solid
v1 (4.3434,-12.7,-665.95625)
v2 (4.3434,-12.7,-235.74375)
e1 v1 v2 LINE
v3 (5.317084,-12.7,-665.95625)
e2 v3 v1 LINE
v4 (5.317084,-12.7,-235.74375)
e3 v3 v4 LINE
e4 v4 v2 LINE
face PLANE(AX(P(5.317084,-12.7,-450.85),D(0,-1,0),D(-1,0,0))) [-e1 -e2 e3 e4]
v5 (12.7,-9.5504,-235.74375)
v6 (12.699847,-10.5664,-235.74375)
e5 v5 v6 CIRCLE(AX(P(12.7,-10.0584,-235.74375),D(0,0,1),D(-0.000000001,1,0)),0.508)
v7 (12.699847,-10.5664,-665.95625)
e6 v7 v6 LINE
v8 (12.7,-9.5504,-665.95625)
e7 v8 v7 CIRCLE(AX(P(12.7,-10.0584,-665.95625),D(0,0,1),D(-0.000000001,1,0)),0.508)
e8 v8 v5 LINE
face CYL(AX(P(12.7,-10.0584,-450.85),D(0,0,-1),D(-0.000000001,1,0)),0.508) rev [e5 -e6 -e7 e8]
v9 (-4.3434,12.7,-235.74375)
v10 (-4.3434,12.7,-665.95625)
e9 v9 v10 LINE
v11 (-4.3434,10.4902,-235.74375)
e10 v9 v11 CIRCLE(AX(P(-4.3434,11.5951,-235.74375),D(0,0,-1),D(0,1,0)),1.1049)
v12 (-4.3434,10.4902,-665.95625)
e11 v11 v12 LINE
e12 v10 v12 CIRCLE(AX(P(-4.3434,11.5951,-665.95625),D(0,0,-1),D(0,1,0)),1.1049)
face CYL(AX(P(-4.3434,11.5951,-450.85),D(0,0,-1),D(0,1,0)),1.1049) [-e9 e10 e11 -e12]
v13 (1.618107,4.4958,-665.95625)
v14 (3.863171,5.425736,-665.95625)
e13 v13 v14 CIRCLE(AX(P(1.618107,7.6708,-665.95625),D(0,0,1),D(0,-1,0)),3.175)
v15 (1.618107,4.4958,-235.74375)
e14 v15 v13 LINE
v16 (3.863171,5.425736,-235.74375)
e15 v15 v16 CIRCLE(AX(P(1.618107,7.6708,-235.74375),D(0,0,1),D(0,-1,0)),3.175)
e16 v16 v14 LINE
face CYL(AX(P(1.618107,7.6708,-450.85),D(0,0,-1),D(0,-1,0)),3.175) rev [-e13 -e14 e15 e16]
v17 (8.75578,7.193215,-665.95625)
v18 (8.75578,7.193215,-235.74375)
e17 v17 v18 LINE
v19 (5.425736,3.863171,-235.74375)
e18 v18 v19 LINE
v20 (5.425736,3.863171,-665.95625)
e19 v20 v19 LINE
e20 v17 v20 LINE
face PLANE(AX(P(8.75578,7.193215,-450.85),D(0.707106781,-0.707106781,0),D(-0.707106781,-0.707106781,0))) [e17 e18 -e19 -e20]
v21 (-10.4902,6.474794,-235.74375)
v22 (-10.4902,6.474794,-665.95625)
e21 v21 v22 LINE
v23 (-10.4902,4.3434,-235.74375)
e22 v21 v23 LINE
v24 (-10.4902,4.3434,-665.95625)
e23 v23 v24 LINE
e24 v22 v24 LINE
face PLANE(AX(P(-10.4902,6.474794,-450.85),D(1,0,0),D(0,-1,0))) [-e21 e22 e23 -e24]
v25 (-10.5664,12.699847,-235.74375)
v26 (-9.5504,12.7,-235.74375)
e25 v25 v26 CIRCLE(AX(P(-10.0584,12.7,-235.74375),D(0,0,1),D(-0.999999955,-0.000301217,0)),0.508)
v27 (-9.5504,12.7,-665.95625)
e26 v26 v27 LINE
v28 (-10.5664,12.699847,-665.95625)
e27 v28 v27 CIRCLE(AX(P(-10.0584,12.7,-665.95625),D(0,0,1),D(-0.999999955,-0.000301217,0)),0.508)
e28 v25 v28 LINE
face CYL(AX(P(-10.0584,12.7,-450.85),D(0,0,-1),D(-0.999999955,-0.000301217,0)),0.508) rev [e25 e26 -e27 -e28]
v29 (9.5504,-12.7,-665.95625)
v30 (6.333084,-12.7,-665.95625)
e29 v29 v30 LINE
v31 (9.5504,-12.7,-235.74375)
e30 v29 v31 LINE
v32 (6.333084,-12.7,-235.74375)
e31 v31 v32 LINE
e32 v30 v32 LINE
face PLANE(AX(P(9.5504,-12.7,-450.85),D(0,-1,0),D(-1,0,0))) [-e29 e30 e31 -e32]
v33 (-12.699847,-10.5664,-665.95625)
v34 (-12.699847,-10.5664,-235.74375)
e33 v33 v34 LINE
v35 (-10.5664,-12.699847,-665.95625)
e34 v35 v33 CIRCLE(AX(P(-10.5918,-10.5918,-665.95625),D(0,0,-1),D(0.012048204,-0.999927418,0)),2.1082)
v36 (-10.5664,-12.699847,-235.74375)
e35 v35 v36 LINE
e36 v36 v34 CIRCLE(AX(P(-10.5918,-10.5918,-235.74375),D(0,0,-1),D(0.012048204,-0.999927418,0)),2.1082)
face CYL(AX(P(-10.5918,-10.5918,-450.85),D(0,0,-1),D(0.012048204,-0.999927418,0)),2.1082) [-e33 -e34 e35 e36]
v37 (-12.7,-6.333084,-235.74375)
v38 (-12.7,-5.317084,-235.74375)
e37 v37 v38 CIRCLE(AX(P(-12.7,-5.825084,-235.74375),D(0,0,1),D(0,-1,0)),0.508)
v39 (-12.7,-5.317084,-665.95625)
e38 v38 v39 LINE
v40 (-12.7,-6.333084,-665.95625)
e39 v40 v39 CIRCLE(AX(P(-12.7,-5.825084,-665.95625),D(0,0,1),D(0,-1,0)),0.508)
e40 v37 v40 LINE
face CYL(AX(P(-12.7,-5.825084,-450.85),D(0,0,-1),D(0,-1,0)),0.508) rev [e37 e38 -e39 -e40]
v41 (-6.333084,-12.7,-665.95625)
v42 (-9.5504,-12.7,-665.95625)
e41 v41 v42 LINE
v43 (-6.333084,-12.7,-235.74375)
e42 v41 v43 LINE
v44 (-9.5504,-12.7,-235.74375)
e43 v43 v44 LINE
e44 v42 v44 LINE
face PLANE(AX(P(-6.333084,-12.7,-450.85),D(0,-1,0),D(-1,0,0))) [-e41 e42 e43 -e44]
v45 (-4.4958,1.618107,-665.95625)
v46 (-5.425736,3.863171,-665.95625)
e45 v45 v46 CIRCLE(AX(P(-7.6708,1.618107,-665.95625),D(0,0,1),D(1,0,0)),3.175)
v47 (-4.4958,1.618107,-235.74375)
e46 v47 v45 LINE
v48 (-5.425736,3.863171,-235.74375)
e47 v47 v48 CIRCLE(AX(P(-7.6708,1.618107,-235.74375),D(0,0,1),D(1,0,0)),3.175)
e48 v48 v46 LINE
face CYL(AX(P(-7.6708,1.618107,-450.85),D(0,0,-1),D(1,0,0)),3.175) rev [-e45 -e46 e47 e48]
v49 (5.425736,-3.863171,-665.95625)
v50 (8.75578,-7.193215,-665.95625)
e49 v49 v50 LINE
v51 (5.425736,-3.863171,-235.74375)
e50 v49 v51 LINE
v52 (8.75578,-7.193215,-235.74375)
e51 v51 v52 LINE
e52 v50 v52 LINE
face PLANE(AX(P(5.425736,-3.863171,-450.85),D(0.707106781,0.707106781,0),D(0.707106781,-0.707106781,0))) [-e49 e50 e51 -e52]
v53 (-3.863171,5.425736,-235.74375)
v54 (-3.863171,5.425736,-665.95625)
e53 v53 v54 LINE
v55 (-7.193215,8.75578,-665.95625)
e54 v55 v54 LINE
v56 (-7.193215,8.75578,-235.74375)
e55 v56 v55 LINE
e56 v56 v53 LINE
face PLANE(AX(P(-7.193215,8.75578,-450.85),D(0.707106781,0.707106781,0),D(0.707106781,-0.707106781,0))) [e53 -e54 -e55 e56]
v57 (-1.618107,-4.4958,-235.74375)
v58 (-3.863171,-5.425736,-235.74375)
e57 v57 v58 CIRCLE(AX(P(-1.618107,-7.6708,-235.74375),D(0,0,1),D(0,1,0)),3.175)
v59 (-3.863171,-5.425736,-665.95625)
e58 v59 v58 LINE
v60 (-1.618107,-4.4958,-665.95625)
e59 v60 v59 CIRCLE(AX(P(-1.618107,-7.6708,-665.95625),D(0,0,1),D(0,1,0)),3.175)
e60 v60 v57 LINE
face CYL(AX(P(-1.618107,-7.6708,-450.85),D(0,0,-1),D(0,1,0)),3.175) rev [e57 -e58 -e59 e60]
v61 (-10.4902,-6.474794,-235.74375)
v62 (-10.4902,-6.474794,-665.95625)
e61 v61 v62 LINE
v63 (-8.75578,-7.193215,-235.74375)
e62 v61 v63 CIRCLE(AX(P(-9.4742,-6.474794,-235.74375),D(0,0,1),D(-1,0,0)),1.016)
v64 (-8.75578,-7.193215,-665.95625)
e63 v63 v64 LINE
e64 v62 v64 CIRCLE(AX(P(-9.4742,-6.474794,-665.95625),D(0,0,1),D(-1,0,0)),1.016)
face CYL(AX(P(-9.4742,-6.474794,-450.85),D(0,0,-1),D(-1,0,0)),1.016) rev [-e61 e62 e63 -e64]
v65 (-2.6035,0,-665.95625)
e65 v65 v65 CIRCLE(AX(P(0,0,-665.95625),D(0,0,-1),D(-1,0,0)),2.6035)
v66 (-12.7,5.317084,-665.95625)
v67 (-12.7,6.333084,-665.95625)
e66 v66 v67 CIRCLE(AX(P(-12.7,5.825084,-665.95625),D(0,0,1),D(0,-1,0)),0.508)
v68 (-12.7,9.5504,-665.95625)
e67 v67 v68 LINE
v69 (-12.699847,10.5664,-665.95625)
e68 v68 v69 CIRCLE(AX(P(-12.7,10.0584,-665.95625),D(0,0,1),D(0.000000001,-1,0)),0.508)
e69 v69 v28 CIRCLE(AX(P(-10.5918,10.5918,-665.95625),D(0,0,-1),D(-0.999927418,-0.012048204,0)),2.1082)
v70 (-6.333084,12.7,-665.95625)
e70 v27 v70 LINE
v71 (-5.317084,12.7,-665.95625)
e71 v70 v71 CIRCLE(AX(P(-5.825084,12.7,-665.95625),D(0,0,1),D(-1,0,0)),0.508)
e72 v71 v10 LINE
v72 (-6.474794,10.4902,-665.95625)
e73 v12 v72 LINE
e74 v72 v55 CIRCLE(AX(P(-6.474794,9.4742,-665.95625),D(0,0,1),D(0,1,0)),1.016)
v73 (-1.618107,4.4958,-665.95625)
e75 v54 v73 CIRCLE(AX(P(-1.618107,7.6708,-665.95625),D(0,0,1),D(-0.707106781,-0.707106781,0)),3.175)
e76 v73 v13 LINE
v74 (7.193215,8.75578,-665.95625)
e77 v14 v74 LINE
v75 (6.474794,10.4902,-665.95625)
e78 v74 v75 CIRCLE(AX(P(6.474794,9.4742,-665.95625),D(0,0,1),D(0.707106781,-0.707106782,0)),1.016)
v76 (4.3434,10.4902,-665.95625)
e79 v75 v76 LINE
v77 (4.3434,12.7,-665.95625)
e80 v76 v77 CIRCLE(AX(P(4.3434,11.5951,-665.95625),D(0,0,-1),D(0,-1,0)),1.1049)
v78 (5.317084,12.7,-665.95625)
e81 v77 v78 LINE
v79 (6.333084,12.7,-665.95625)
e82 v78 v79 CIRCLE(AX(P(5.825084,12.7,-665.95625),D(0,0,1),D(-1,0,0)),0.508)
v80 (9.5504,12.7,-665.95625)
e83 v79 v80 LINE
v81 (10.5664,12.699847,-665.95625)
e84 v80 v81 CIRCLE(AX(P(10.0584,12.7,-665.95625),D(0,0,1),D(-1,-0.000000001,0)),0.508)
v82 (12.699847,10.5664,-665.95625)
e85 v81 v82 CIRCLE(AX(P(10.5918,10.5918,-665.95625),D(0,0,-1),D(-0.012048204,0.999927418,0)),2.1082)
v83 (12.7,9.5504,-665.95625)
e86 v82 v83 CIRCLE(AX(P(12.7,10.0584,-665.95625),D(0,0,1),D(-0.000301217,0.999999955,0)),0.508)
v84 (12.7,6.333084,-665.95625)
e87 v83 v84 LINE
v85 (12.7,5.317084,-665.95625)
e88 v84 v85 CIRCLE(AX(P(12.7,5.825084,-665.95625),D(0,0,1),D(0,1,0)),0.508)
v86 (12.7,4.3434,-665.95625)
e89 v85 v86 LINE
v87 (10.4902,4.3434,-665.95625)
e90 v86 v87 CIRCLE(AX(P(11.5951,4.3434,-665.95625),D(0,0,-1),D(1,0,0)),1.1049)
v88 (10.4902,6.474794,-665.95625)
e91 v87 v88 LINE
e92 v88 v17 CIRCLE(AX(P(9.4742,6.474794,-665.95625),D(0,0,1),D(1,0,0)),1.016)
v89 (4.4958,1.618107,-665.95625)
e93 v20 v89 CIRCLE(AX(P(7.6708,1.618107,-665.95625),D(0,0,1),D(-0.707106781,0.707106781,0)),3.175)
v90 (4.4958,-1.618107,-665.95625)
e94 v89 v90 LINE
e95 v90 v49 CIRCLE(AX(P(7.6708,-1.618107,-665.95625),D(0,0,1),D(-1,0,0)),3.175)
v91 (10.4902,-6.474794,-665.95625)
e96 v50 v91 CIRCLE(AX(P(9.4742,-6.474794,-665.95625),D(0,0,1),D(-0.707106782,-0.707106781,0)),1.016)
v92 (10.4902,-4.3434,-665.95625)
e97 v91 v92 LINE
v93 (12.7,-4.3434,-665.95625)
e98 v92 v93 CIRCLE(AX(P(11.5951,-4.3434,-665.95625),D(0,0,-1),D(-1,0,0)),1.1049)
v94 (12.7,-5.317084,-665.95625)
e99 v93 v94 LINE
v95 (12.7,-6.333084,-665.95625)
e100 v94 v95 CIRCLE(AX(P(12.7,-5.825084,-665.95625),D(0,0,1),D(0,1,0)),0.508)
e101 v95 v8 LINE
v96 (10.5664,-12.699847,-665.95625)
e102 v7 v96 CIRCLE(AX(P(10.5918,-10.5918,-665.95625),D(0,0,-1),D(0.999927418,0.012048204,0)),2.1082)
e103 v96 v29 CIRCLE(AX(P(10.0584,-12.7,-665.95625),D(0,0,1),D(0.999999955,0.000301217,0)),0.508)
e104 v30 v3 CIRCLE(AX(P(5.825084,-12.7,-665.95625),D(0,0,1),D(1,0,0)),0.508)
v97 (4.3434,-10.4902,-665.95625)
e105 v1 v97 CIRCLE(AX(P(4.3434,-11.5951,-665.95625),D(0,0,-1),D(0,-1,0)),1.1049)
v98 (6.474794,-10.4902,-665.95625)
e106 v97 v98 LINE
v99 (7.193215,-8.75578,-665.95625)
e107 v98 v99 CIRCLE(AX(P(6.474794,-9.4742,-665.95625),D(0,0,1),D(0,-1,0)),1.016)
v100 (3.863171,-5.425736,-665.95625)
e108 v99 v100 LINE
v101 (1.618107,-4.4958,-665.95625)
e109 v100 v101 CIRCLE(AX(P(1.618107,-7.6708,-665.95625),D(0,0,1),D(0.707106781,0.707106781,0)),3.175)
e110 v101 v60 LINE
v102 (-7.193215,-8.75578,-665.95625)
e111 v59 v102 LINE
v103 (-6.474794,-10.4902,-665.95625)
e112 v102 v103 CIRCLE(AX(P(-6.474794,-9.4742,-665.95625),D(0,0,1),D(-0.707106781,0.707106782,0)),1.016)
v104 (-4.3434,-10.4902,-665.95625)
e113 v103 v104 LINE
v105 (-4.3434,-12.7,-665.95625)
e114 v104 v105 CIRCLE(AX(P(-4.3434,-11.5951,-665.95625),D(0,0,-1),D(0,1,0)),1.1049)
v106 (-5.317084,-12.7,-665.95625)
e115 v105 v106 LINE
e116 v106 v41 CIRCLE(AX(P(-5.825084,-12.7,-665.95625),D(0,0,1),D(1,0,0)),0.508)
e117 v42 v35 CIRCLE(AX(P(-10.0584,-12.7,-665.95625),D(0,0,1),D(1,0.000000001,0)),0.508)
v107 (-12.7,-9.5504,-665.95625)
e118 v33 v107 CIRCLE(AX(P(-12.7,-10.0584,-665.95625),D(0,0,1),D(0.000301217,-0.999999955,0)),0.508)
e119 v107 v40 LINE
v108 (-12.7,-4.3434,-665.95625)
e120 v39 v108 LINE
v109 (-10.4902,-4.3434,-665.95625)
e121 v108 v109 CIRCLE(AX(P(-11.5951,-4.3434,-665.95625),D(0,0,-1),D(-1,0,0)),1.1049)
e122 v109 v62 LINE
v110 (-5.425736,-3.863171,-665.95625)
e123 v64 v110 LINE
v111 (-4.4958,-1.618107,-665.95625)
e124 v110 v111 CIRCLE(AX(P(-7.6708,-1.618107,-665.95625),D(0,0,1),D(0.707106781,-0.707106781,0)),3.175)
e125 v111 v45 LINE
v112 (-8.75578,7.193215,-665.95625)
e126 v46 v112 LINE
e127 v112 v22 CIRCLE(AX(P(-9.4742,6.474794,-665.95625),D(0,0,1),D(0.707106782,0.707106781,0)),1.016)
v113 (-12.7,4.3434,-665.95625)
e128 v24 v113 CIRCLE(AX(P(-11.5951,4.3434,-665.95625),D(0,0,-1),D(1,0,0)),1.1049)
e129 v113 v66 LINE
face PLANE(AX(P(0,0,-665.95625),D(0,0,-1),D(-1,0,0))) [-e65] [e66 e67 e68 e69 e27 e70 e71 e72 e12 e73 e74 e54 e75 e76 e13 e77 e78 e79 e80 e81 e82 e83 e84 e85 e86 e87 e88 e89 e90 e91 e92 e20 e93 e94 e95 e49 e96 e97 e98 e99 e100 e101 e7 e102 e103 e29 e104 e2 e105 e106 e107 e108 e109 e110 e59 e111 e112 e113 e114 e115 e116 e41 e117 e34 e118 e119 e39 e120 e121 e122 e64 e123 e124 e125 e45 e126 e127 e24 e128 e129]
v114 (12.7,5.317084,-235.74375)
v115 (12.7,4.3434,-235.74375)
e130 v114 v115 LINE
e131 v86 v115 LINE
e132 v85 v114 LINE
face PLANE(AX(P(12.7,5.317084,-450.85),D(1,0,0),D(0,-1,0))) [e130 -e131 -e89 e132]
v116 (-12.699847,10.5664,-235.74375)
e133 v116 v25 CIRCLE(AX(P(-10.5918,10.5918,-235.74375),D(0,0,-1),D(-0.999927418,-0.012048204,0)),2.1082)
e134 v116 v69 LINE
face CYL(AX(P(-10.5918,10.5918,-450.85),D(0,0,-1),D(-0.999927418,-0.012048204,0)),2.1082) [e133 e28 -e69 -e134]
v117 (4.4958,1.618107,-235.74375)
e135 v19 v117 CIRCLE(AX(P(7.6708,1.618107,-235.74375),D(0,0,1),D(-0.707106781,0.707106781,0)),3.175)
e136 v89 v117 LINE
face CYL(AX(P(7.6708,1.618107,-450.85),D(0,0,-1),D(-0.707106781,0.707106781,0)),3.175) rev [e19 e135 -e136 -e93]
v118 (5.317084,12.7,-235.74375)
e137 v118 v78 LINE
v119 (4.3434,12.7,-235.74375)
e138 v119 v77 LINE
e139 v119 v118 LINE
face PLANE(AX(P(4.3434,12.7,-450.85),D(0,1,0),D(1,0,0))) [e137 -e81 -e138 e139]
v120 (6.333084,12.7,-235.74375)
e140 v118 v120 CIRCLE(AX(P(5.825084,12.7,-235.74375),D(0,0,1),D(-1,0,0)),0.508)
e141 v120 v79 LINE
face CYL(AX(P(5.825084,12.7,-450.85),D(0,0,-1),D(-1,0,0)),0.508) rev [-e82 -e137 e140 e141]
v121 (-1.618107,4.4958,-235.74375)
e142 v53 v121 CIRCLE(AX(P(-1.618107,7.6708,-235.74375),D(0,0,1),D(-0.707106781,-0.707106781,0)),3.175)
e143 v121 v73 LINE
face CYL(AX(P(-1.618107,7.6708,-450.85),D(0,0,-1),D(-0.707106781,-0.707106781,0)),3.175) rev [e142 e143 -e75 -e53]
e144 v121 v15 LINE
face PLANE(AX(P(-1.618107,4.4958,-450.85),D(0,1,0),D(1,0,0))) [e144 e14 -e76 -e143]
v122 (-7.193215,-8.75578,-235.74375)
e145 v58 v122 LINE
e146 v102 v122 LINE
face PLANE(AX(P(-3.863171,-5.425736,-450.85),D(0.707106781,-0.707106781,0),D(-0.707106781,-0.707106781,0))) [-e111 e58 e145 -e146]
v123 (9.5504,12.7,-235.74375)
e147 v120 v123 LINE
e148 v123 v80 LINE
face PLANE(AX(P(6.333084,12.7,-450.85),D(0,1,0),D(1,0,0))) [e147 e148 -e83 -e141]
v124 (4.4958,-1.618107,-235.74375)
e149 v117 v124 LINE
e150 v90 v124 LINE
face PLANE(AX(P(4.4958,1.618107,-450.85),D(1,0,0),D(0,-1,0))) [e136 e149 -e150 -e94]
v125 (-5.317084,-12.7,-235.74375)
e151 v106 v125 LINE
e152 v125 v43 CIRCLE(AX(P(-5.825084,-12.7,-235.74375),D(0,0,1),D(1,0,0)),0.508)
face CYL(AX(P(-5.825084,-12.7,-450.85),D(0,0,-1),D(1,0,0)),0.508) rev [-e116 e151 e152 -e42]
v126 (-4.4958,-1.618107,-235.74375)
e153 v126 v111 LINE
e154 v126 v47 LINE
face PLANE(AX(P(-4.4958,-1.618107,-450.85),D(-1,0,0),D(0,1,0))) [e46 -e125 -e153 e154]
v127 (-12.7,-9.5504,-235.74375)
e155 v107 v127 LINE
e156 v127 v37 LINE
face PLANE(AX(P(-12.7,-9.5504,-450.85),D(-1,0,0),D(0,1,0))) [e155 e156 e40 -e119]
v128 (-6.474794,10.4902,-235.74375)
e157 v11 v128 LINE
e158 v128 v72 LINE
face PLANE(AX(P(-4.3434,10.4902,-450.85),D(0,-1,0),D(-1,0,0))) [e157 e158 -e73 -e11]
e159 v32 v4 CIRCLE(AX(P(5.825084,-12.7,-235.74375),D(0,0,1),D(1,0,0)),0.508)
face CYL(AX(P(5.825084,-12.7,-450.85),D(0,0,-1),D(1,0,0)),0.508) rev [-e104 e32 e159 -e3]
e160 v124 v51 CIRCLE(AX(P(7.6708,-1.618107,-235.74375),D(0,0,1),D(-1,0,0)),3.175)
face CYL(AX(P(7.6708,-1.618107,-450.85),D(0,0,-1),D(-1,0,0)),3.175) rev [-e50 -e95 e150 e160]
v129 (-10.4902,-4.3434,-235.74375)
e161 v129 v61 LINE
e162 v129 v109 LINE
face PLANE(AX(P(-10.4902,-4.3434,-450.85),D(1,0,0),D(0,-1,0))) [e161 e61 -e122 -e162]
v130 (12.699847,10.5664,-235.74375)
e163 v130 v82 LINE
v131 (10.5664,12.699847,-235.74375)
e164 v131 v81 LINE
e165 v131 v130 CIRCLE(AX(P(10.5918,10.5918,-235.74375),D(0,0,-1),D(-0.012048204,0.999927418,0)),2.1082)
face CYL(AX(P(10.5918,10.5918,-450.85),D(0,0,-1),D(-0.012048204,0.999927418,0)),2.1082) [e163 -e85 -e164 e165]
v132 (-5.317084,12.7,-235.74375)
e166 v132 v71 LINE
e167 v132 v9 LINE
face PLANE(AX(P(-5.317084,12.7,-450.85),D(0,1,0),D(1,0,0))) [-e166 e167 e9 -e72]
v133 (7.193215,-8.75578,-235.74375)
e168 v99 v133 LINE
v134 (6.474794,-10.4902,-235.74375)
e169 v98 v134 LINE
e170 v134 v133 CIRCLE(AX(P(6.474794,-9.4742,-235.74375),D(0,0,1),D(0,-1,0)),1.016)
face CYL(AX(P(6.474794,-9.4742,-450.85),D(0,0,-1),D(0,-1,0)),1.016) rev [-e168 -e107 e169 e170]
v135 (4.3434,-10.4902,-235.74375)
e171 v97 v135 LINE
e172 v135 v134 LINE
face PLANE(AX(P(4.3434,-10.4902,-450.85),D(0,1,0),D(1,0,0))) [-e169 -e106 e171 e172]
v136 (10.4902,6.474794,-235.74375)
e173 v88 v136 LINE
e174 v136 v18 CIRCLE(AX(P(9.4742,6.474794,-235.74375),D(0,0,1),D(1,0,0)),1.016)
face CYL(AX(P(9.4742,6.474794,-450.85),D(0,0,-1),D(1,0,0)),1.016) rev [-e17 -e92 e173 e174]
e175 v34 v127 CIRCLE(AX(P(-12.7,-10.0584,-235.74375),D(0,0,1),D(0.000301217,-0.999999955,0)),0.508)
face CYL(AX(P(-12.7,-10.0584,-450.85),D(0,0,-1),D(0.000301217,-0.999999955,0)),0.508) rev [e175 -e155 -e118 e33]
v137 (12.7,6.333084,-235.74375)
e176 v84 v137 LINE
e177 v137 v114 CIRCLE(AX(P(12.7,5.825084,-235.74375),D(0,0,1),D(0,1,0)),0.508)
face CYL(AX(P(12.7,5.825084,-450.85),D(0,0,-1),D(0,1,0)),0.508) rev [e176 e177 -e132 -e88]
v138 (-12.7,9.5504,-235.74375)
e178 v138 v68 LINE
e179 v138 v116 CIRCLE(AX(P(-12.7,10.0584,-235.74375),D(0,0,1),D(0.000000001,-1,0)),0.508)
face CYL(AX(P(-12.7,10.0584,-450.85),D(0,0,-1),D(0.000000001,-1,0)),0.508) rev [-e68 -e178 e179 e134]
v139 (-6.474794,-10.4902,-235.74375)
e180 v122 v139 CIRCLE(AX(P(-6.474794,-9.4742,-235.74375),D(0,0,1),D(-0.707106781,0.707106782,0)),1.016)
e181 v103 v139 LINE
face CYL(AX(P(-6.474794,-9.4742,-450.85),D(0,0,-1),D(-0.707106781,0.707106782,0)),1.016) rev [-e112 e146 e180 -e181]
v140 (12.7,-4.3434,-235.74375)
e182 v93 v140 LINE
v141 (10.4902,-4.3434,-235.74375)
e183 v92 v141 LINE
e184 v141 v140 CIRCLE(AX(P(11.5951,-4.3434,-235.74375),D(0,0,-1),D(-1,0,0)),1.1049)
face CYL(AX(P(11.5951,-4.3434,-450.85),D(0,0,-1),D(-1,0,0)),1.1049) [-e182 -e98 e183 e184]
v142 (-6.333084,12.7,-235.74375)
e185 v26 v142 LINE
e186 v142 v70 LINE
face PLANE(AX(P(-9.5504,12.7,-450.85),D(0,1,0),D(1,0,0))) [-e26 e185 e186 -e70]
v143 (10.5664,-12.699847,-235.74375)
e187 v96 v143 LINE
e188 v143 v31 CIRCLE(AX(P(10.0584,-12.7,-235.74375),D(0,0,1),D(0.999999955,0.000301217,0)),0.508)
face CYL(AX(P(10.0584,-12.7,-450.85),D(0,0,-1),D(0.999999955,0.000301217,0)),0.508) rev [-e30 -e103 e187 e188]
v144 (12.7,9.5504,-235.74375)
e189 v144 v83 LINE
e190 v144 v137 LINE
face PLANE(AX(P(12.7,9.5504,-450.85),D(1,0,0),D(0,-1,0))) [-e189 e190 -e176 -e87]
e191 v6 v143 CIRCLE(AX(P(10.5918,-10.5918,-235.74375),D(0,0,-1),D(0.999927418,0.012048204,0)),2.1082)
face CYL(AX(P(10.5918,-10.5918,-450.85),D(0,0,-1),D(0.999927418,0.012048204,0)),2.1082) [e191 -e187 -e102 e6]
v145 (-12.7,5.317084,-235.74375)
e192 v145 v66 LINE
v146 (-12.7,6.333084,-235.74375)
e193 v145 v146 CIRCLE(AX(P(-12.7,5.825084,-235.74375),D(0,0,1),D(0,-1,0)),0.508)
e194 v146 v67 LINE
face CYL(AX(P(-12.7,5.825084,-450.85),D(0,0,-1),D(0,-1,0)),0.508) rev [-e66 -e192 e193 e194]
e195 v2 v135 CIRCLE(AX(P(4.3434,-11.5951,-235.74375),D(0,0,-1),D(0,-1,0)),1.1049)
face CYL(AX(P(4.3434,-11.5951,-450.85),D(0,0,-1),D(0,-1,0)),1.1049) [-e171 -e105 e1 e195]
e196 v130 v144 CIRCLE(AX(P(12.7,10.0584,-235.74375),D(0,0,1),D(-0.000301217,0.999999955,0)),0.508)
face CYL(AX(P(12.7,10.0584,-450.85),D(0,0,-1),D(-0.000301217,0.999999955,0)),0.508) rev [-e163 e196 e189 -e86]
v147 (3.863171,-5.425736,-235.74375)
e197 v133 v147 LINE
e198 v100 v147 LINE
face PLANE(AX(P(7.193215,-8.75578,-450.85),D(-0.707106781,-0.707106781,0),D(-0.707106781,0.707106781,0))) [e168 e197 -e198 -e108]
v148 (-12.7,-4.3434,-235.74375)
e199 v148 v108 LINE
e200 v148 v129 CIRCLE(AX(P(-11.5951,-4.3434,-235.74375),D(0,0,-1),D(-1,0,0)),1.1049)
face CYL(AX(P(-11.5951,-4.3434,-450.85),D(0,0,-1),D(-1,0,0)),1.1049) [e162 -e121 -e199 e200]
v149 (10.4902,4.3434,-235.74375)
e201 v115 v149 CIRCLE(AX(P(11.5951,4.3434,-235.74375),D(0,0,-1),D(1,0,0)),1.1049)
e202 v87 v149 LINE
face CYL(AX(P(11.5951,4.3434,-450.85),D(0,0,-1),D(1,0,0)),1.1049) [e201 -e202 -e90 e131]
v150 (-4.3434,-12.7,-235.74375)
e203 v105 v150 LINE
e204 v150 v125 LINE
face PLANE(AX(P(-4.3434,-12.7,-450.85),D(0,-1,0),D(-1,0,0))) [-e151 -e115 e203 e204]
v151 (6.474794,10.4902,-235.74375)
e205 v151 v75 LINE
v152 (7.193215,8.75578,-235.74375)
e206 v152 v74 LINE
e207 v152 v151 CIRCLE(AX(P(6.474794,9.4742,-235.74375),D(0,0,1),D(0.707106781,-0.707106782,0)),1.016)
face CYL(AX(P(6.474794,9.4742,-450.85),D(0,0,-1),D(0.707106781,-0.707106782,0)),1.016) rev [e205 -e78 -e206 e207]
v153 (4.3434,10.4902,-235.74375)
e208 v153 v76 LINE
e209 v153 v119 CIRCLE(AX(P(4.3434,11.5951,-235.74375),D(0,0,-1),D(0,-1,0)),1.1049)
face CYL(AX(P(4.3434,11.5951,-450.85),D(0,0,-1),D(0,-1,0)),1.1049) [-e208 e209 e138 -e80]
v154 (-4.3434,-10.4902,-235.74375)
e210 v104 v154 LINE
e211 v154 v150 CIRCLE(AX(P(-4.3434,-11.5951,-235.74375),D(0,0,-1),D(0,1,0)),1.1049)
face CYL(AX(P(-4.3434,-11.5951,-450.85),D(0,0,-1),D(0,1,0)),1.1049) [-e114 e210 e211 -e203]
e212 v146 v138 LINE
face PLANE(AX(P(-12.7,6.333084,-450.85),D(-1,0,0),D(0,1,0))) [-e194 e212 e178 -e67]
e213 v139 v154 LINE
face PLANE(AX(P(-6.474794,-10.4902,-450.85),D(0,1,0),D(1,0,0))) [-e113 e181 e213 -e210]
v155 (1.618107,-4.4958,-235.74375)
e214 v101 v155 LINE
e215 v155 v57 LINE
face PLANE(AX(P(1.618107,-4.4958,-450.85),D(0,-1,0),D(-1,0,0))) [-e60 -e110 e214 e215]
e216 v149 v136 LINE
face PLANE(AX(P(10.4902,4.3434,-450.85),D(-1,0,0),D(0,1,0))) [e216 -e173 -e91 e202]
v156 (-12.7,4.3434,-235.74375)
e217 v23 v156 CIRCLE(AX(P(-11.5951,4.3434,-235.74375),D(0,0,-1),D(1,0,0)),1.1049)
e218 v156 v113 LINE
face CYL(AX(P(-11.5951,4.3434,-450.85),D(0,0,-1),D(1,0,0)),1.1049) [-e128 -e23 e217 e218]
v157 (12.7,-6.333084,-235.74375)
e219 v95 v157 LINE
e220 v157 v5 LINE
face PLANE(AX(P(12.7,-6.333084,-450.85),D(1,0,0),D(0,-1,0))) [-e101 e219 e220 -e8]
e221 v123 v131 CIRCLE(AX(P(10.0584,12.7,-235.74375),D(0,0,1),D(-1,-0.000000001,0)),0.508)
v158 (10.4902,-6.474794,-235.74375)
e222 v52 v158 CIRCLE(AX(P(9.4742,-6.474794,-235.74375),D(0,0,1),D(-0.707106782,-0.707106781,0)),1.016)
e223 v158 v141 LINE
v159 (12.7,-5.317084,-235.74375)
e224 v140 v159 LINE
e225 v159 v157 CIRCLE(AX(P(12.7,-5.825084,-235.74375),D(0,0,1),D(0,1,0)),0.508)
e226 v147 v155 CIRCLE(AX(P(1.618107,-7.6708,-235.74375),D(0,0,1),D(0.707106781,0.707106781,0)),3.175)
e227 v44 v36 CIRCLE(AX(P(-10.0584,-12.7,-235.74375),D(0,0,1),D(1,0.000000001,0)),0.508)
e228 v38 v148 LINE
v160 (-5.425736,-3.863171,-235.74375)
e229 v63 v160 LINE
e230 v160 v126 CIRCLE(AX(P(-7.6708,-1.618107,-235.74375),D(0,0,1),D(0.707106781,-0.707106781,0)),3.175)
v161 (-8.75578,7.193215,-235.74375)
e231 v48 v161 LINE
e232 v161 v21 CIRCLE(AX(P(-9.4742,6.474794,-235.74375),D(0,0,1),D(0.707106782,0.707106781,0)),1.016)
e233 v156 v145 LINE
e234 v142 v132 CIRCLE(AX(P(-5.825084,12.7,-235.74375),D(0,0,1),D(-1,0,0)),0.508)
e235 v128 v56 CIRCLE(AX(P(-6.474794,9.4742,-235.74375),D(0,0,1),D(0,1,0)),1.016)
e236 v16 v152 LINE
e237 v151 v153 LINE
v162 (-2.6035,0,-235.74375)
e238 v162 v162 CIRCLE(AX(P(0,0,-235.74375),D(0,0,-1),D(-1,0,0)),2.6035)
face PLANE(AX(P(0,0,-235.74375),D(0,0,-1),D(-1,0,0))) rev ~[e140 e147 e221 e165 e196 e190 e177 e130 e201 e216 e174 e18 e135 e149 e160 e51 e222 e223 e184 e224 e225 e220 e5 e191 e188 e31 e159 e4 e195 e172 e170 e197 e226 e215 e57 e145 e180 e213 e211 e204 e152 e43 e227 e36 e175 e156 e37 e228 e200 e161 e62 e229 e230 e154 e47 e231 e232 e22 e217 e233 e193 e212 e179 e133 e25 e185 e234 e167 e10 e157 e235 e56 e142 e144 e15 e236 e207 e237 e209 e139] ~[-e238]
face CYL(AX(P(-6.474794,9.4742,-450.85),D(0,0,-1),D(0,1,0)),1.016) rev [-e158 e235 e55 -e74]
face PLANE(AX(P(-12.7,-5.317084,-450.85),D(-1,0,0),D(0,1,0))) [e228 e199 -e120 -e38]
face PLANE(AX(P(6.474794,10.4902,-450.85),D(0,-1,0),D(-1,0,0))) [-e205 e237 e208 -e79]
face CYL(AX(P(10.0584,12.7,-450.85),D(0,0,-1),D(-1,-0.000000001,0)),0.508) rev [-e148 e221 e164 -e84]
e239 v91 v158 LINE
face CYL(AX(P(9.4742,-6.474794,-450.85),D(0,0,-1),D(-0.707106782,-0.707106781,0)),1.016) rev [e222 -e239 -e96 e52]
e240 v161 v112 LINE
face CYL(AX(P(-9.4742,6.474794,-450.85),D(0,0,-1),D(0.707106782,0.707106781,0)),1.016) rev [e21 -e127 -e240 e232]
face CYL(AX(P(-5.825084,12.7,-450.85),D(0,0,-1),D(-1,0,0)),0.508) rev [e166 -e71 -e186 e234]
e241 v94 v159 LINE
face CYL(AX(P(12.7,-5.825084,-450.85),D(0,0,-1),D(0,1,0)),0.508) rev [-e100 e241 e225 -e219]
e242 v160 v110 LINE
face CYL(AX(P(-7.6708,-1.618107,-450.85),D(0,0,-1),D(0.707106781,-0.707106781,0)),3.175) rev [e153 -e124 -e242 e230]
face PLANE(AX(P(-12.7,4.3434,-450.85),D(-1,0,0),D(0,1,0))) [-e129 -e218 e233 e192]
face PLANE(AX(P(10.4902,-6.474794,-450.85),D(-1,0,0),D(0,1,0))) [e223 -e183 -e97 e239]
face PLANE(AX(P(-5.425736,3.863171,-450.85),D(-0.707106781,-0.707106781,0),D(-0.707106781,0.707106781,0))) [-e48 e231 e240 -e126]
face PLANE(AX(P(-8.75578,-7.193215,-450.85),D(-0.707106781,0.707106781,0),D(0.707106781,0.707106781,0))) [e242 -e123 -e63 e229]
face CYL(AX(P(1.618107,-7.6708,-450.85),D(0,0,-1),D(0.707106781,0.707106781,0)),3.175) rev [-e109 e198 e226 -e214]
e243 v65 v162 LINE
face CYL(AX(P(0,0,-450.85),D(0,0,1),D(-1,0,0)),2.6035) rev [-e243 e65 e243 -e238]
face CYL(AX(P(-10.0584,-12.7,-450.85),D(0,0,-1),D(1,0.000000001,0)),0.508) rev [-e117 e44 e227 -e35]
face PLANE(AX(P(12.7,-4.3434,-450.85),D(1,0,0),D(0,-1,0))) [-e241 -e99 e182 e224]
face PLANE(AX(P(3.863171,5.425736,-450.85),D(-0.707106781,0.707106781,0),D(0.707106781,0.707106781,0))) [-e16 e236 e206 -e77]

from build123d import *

# Parameters (mm, degrees)
SKETCH1_R           = 2.6035
BOSS_EXTRUDE1_DEPTH = 215.10625


with BuildPart() as part:
    # Sketch1 → Boss-Extrude1 (new body, symmetric)
    with BuildSketch(Plane(origin=(0, 0, -450.85), x_dir=(-1, 0, 0), z_dir=(0, 0, -1))):
        with BuildLine():
            Line((12.7, -9.5504), (12.7, -6.3330836))
            ThreePointArc((12.7, -6.3330836), (12.192, -5.8250836), (12.7, -5.3170836))
            Line((12.7, -5.3170836), (12.7, -4.3434))
            ThreePointArc((12.7, -4.3434), (11.5951, -3.2385), (10.4902, -4.3434))
            Line((10.4902, -4.3434), (10.4902, -6.474794456))
            ThreePointArc((10.4902, -6.474794456), (9.863006367, -7.413456061), (8.75577951, -7.193214945))
            Line((8.75577951, -7.193214945), (5.42573597, -3.863171405))
            ThreePointArc((5.42573597, -3.863171405), (4.737482484, -2.833127272), (4.4958, -1.618107374))
            Line((4.4958, -1.618107374), (4.4958, 1.618107374))
            ThreePointArc((4.4958, 1.618107374), (4.737482484, 2.833127272), (5.42573597, 3.863171405))
            Line((5.42573597, 3.863171405), (8.75577951, 7.193214945))
            ThreePointArc((8.75577951, 7.193214945), (9.863006367, 7.413456061), (10.4902, 6.474794456))
            Line((10.4902, 6.474794456), (10.4902, 4.343399971))
            ThreePointArc((10.4902, 4.343399971), (11.5951, 3.238499971), (12.7, 4.343399971))
            Line((12.7, 4.343399971), (12.7, 5.3170836))
            ThreePointArc((12.7, 5.3170836), (12.192, 5.8250836), (12.7, 6.3330836))
            Line((12.7, 6.3330836), (12.7, 9.5504))
            ThreePointArc((12.7, 9.5504), (12.192000006, 10.058323491), (12.699846982, 10.566399977))
            ThreePointArc((12.699846982, 10.566399977), (12.082522516, 12.082522516), (10.566399977, 12.699846982))
            ThreePointArc((10.566399977, 12.699846982), (10.058323491, 12.192000006), (9.5504, 12.7))
            Line((9.5504, 12.7), (6.3330836, 12.7))
            ThreePointArc((6.3330836, 12.7), (5.8250836, 12.192), (5.3170836, 12.7))
            Line((5.3170836, 12.7), (4.3434, 12.7))
            ThreePointArc((4.3434, 12.7), (3.2385, 11.5951), (4.3434, 10.4902))
            Line((4.3434, 10.4902), (6.474794456, 10.4902))
            ThreePointArc((6.474794456, 10.4902), (7.413456061, 9.863006367), (7.193214945, 8.75577951))
            Line((7.193214945, 8.75577951), (3.863171405, 5.42573597))
            ThreePointArc((3.863171405, 5.42573597), (2.833127272, 4.737482484), (1.618107374, 4.4958))
            Line((1.618107374, 4.4958), (-1.618107374, 4.4958))
            ThreePointArc((-1.618107374, 4.4958), (-2.833127272, 4.737482484), (-3.863171405, 5.42573597))
            Line((-3.863171405, 5.42573597), (-7.193214945, 8.75577951))
            ThreePointArc((-7.193214945, 8.75577951), (-7.413456061, 9.863006367), (-6.474794456, 10.4902))
            Line((-6.474794456, 10.4902), (-4.343399971, 10.4902))
            ThreePointArc((-4.343399971, 10.4902), (-3.238499971, 11.5951), (-4.343399971, 12.7))
            Line((-4.343399971, 12.7), (-5.3170836, 12.7))
            ThreePointArc((-5.3170836, 12.7), (-5.8250836, 12.192), (-6.3330836, 12.7))
            Line((-6.3330836, 12.7), (-9.5504, 12.7))
            ThreePointArc((-9.5504, 12.7), (-10.058323491, 12.192000006), (-10.566399977, 12.699846982))
            ThreePointArc((-10.566399977, 12.699846982), (-12.082522516, 12.082522516), (-12.699846982, 10.566399977))
            ThreePointArc((-12.699846982, 10.566399977), (-12.192000006, 10.058323491), (-12.7, 9.5504))
            Line((-12.7, 9.5504), (-12.7, 6.3330836))
            ThreePointArc((-12.7, 6.3330836), (-12.192, 5.8250836), (-12.7, 5.3170836))
            Line((-12.7, 5.3170836), (-12.7, 4.3434))
            ThreePointArc((-12.7, 4.3434), (-11.5951, 3.2385), (-10.4902, 4.3434))
            Line((-10.4902, 4.3434), (-10.4902, 6.474794456))
            ThreePointArc((-10.4902, 6.474794456), (-9.863006367, 7.413456061), (-8.75577951, 7.193214945))
            Line((-8.75577951, 7.193214945), (-5.42573597, 3.863171405))
            ThreePointArc((-5.42573597, 3.863171405), (-4.737482484, 2.833127272), (-4.4958, 1.618107374))
            Line((-4.4958, 1.618107374), (-4.4958, -1.618107374))
            ThreePointArc((-4.4958, -1.618107374), (-4.737482484, -2.833127272), (-5.42573597, -3.863171405))
            Line((-5.42573597, -3.863171405), (-8.75577951, -7.193214945))
            ThreePointArc((-8.75577951, -7.193214945), (-9.863006367, -7.413456061), (-10.4902, -6.474794456))
            Line((-10.4902, -6.474794456), (-10.4902, -4.343399971))
            ThreePointArc((-10.4902, -4.343399971), (-11.5951, -3.238499971), (-12.7, -4.343399971))
            Line((-12.7, -4.343399971), (-12.7, -5.3170836))
            ThreePointArc((-12.7, -5.3170836), (-12.192, -5.8250836), (-12.7, -6.3330836))
            Line((-12.7, -6.3330836), (-12.7, -9.5504))
            ThreePointArc((-12.7, -9.5504), (-12.192000006, -10.058323491), (-12.699846982, -10.566399977))
            ThreePointArc((-12.699846982, -10.566399977), (-12.082522516, -12.082522516), (-10.566399977, -12.699846982))
            ThreePointArc((-10.566399977, -12.699846982), (-10.058323491, -12.192000006), (-9.5504, -12.7))
            Line((-9.5504, -12.7), (-6.3330836, -12.7))
            ThreePointArc((-6.3330836, -12.7), (-5.8250836, -12.192), (-5.3170836, -12.7))
            Line((-5.3170836, -12.7), (-4.3434, -12.7))
            ThreePointArc((-4.3434, -12.7), (-3.2385, -11.5951), (-4.3434, -10.4902))
            Line((-4.3434, -10.4902), (-6.474794456, -10.4902))
            ThreePointArc((-6.474794456, -10.4902), (-7.413456061, -9.863006367), (-7.193214945, -8.75577951))
            Line((-7.193214945, -8.75577951), (-3.863171405, -5.42573597))
            ThreePointArc((-3.863171405, -5.42573597), (-2.833127272, -4.737482484), (-1.618107374, -4.4958))
            Line((-1.618107374, -4.4958), (1.618107374, -4.4958))
            ThreePointArc((1.618107374, -4.4958), (2.833127272, -4.737482484), (3.863171405, -5.42573597))
            Line((3.863171405, -5.42573597), (7.193214945, -8.75577951))
            ThreePointArc((7.193214945, -8.75577951), (7.413456061, -9.863006367), (6.474794456, -10.4902))
            Line((6.474794456, -10.4902), (4.343399971, -10.4902))
            ThreePointArc((4.343399971, -10.4902), (3.238499971, -11.5951), (4.343399971, -12.7))
            Line((4.343399971, -12.7), (5.3170836, -12.7))
            ThreePointArc((5.3170836, -12.7), (5.8250836, -12.192), (6.3330836, -12.7))
            Line((6.3330836, -12.7), (9.5504, -12.7))
            ThreePointArc((9.5504, -12.7), (10.058323491, -12.192000006), (10.566399977, -12.699846982))
            ThreePointArc((10.566399977, -12.699846982), (12.082522516, -12.082522516), (12.699846982, -10.566399977))
            ThreePointArc((12.699846982, -10.566399977), (12.192000006, -10.058323491), (12.7, -9.5504))
        make_face()
        Circle(SKETCH1_R, mode=Mode.SUBTRACT)
    extrude(amount=BOSS_EXTRUDE1_DEPTH, both=True)


solid = part.part
